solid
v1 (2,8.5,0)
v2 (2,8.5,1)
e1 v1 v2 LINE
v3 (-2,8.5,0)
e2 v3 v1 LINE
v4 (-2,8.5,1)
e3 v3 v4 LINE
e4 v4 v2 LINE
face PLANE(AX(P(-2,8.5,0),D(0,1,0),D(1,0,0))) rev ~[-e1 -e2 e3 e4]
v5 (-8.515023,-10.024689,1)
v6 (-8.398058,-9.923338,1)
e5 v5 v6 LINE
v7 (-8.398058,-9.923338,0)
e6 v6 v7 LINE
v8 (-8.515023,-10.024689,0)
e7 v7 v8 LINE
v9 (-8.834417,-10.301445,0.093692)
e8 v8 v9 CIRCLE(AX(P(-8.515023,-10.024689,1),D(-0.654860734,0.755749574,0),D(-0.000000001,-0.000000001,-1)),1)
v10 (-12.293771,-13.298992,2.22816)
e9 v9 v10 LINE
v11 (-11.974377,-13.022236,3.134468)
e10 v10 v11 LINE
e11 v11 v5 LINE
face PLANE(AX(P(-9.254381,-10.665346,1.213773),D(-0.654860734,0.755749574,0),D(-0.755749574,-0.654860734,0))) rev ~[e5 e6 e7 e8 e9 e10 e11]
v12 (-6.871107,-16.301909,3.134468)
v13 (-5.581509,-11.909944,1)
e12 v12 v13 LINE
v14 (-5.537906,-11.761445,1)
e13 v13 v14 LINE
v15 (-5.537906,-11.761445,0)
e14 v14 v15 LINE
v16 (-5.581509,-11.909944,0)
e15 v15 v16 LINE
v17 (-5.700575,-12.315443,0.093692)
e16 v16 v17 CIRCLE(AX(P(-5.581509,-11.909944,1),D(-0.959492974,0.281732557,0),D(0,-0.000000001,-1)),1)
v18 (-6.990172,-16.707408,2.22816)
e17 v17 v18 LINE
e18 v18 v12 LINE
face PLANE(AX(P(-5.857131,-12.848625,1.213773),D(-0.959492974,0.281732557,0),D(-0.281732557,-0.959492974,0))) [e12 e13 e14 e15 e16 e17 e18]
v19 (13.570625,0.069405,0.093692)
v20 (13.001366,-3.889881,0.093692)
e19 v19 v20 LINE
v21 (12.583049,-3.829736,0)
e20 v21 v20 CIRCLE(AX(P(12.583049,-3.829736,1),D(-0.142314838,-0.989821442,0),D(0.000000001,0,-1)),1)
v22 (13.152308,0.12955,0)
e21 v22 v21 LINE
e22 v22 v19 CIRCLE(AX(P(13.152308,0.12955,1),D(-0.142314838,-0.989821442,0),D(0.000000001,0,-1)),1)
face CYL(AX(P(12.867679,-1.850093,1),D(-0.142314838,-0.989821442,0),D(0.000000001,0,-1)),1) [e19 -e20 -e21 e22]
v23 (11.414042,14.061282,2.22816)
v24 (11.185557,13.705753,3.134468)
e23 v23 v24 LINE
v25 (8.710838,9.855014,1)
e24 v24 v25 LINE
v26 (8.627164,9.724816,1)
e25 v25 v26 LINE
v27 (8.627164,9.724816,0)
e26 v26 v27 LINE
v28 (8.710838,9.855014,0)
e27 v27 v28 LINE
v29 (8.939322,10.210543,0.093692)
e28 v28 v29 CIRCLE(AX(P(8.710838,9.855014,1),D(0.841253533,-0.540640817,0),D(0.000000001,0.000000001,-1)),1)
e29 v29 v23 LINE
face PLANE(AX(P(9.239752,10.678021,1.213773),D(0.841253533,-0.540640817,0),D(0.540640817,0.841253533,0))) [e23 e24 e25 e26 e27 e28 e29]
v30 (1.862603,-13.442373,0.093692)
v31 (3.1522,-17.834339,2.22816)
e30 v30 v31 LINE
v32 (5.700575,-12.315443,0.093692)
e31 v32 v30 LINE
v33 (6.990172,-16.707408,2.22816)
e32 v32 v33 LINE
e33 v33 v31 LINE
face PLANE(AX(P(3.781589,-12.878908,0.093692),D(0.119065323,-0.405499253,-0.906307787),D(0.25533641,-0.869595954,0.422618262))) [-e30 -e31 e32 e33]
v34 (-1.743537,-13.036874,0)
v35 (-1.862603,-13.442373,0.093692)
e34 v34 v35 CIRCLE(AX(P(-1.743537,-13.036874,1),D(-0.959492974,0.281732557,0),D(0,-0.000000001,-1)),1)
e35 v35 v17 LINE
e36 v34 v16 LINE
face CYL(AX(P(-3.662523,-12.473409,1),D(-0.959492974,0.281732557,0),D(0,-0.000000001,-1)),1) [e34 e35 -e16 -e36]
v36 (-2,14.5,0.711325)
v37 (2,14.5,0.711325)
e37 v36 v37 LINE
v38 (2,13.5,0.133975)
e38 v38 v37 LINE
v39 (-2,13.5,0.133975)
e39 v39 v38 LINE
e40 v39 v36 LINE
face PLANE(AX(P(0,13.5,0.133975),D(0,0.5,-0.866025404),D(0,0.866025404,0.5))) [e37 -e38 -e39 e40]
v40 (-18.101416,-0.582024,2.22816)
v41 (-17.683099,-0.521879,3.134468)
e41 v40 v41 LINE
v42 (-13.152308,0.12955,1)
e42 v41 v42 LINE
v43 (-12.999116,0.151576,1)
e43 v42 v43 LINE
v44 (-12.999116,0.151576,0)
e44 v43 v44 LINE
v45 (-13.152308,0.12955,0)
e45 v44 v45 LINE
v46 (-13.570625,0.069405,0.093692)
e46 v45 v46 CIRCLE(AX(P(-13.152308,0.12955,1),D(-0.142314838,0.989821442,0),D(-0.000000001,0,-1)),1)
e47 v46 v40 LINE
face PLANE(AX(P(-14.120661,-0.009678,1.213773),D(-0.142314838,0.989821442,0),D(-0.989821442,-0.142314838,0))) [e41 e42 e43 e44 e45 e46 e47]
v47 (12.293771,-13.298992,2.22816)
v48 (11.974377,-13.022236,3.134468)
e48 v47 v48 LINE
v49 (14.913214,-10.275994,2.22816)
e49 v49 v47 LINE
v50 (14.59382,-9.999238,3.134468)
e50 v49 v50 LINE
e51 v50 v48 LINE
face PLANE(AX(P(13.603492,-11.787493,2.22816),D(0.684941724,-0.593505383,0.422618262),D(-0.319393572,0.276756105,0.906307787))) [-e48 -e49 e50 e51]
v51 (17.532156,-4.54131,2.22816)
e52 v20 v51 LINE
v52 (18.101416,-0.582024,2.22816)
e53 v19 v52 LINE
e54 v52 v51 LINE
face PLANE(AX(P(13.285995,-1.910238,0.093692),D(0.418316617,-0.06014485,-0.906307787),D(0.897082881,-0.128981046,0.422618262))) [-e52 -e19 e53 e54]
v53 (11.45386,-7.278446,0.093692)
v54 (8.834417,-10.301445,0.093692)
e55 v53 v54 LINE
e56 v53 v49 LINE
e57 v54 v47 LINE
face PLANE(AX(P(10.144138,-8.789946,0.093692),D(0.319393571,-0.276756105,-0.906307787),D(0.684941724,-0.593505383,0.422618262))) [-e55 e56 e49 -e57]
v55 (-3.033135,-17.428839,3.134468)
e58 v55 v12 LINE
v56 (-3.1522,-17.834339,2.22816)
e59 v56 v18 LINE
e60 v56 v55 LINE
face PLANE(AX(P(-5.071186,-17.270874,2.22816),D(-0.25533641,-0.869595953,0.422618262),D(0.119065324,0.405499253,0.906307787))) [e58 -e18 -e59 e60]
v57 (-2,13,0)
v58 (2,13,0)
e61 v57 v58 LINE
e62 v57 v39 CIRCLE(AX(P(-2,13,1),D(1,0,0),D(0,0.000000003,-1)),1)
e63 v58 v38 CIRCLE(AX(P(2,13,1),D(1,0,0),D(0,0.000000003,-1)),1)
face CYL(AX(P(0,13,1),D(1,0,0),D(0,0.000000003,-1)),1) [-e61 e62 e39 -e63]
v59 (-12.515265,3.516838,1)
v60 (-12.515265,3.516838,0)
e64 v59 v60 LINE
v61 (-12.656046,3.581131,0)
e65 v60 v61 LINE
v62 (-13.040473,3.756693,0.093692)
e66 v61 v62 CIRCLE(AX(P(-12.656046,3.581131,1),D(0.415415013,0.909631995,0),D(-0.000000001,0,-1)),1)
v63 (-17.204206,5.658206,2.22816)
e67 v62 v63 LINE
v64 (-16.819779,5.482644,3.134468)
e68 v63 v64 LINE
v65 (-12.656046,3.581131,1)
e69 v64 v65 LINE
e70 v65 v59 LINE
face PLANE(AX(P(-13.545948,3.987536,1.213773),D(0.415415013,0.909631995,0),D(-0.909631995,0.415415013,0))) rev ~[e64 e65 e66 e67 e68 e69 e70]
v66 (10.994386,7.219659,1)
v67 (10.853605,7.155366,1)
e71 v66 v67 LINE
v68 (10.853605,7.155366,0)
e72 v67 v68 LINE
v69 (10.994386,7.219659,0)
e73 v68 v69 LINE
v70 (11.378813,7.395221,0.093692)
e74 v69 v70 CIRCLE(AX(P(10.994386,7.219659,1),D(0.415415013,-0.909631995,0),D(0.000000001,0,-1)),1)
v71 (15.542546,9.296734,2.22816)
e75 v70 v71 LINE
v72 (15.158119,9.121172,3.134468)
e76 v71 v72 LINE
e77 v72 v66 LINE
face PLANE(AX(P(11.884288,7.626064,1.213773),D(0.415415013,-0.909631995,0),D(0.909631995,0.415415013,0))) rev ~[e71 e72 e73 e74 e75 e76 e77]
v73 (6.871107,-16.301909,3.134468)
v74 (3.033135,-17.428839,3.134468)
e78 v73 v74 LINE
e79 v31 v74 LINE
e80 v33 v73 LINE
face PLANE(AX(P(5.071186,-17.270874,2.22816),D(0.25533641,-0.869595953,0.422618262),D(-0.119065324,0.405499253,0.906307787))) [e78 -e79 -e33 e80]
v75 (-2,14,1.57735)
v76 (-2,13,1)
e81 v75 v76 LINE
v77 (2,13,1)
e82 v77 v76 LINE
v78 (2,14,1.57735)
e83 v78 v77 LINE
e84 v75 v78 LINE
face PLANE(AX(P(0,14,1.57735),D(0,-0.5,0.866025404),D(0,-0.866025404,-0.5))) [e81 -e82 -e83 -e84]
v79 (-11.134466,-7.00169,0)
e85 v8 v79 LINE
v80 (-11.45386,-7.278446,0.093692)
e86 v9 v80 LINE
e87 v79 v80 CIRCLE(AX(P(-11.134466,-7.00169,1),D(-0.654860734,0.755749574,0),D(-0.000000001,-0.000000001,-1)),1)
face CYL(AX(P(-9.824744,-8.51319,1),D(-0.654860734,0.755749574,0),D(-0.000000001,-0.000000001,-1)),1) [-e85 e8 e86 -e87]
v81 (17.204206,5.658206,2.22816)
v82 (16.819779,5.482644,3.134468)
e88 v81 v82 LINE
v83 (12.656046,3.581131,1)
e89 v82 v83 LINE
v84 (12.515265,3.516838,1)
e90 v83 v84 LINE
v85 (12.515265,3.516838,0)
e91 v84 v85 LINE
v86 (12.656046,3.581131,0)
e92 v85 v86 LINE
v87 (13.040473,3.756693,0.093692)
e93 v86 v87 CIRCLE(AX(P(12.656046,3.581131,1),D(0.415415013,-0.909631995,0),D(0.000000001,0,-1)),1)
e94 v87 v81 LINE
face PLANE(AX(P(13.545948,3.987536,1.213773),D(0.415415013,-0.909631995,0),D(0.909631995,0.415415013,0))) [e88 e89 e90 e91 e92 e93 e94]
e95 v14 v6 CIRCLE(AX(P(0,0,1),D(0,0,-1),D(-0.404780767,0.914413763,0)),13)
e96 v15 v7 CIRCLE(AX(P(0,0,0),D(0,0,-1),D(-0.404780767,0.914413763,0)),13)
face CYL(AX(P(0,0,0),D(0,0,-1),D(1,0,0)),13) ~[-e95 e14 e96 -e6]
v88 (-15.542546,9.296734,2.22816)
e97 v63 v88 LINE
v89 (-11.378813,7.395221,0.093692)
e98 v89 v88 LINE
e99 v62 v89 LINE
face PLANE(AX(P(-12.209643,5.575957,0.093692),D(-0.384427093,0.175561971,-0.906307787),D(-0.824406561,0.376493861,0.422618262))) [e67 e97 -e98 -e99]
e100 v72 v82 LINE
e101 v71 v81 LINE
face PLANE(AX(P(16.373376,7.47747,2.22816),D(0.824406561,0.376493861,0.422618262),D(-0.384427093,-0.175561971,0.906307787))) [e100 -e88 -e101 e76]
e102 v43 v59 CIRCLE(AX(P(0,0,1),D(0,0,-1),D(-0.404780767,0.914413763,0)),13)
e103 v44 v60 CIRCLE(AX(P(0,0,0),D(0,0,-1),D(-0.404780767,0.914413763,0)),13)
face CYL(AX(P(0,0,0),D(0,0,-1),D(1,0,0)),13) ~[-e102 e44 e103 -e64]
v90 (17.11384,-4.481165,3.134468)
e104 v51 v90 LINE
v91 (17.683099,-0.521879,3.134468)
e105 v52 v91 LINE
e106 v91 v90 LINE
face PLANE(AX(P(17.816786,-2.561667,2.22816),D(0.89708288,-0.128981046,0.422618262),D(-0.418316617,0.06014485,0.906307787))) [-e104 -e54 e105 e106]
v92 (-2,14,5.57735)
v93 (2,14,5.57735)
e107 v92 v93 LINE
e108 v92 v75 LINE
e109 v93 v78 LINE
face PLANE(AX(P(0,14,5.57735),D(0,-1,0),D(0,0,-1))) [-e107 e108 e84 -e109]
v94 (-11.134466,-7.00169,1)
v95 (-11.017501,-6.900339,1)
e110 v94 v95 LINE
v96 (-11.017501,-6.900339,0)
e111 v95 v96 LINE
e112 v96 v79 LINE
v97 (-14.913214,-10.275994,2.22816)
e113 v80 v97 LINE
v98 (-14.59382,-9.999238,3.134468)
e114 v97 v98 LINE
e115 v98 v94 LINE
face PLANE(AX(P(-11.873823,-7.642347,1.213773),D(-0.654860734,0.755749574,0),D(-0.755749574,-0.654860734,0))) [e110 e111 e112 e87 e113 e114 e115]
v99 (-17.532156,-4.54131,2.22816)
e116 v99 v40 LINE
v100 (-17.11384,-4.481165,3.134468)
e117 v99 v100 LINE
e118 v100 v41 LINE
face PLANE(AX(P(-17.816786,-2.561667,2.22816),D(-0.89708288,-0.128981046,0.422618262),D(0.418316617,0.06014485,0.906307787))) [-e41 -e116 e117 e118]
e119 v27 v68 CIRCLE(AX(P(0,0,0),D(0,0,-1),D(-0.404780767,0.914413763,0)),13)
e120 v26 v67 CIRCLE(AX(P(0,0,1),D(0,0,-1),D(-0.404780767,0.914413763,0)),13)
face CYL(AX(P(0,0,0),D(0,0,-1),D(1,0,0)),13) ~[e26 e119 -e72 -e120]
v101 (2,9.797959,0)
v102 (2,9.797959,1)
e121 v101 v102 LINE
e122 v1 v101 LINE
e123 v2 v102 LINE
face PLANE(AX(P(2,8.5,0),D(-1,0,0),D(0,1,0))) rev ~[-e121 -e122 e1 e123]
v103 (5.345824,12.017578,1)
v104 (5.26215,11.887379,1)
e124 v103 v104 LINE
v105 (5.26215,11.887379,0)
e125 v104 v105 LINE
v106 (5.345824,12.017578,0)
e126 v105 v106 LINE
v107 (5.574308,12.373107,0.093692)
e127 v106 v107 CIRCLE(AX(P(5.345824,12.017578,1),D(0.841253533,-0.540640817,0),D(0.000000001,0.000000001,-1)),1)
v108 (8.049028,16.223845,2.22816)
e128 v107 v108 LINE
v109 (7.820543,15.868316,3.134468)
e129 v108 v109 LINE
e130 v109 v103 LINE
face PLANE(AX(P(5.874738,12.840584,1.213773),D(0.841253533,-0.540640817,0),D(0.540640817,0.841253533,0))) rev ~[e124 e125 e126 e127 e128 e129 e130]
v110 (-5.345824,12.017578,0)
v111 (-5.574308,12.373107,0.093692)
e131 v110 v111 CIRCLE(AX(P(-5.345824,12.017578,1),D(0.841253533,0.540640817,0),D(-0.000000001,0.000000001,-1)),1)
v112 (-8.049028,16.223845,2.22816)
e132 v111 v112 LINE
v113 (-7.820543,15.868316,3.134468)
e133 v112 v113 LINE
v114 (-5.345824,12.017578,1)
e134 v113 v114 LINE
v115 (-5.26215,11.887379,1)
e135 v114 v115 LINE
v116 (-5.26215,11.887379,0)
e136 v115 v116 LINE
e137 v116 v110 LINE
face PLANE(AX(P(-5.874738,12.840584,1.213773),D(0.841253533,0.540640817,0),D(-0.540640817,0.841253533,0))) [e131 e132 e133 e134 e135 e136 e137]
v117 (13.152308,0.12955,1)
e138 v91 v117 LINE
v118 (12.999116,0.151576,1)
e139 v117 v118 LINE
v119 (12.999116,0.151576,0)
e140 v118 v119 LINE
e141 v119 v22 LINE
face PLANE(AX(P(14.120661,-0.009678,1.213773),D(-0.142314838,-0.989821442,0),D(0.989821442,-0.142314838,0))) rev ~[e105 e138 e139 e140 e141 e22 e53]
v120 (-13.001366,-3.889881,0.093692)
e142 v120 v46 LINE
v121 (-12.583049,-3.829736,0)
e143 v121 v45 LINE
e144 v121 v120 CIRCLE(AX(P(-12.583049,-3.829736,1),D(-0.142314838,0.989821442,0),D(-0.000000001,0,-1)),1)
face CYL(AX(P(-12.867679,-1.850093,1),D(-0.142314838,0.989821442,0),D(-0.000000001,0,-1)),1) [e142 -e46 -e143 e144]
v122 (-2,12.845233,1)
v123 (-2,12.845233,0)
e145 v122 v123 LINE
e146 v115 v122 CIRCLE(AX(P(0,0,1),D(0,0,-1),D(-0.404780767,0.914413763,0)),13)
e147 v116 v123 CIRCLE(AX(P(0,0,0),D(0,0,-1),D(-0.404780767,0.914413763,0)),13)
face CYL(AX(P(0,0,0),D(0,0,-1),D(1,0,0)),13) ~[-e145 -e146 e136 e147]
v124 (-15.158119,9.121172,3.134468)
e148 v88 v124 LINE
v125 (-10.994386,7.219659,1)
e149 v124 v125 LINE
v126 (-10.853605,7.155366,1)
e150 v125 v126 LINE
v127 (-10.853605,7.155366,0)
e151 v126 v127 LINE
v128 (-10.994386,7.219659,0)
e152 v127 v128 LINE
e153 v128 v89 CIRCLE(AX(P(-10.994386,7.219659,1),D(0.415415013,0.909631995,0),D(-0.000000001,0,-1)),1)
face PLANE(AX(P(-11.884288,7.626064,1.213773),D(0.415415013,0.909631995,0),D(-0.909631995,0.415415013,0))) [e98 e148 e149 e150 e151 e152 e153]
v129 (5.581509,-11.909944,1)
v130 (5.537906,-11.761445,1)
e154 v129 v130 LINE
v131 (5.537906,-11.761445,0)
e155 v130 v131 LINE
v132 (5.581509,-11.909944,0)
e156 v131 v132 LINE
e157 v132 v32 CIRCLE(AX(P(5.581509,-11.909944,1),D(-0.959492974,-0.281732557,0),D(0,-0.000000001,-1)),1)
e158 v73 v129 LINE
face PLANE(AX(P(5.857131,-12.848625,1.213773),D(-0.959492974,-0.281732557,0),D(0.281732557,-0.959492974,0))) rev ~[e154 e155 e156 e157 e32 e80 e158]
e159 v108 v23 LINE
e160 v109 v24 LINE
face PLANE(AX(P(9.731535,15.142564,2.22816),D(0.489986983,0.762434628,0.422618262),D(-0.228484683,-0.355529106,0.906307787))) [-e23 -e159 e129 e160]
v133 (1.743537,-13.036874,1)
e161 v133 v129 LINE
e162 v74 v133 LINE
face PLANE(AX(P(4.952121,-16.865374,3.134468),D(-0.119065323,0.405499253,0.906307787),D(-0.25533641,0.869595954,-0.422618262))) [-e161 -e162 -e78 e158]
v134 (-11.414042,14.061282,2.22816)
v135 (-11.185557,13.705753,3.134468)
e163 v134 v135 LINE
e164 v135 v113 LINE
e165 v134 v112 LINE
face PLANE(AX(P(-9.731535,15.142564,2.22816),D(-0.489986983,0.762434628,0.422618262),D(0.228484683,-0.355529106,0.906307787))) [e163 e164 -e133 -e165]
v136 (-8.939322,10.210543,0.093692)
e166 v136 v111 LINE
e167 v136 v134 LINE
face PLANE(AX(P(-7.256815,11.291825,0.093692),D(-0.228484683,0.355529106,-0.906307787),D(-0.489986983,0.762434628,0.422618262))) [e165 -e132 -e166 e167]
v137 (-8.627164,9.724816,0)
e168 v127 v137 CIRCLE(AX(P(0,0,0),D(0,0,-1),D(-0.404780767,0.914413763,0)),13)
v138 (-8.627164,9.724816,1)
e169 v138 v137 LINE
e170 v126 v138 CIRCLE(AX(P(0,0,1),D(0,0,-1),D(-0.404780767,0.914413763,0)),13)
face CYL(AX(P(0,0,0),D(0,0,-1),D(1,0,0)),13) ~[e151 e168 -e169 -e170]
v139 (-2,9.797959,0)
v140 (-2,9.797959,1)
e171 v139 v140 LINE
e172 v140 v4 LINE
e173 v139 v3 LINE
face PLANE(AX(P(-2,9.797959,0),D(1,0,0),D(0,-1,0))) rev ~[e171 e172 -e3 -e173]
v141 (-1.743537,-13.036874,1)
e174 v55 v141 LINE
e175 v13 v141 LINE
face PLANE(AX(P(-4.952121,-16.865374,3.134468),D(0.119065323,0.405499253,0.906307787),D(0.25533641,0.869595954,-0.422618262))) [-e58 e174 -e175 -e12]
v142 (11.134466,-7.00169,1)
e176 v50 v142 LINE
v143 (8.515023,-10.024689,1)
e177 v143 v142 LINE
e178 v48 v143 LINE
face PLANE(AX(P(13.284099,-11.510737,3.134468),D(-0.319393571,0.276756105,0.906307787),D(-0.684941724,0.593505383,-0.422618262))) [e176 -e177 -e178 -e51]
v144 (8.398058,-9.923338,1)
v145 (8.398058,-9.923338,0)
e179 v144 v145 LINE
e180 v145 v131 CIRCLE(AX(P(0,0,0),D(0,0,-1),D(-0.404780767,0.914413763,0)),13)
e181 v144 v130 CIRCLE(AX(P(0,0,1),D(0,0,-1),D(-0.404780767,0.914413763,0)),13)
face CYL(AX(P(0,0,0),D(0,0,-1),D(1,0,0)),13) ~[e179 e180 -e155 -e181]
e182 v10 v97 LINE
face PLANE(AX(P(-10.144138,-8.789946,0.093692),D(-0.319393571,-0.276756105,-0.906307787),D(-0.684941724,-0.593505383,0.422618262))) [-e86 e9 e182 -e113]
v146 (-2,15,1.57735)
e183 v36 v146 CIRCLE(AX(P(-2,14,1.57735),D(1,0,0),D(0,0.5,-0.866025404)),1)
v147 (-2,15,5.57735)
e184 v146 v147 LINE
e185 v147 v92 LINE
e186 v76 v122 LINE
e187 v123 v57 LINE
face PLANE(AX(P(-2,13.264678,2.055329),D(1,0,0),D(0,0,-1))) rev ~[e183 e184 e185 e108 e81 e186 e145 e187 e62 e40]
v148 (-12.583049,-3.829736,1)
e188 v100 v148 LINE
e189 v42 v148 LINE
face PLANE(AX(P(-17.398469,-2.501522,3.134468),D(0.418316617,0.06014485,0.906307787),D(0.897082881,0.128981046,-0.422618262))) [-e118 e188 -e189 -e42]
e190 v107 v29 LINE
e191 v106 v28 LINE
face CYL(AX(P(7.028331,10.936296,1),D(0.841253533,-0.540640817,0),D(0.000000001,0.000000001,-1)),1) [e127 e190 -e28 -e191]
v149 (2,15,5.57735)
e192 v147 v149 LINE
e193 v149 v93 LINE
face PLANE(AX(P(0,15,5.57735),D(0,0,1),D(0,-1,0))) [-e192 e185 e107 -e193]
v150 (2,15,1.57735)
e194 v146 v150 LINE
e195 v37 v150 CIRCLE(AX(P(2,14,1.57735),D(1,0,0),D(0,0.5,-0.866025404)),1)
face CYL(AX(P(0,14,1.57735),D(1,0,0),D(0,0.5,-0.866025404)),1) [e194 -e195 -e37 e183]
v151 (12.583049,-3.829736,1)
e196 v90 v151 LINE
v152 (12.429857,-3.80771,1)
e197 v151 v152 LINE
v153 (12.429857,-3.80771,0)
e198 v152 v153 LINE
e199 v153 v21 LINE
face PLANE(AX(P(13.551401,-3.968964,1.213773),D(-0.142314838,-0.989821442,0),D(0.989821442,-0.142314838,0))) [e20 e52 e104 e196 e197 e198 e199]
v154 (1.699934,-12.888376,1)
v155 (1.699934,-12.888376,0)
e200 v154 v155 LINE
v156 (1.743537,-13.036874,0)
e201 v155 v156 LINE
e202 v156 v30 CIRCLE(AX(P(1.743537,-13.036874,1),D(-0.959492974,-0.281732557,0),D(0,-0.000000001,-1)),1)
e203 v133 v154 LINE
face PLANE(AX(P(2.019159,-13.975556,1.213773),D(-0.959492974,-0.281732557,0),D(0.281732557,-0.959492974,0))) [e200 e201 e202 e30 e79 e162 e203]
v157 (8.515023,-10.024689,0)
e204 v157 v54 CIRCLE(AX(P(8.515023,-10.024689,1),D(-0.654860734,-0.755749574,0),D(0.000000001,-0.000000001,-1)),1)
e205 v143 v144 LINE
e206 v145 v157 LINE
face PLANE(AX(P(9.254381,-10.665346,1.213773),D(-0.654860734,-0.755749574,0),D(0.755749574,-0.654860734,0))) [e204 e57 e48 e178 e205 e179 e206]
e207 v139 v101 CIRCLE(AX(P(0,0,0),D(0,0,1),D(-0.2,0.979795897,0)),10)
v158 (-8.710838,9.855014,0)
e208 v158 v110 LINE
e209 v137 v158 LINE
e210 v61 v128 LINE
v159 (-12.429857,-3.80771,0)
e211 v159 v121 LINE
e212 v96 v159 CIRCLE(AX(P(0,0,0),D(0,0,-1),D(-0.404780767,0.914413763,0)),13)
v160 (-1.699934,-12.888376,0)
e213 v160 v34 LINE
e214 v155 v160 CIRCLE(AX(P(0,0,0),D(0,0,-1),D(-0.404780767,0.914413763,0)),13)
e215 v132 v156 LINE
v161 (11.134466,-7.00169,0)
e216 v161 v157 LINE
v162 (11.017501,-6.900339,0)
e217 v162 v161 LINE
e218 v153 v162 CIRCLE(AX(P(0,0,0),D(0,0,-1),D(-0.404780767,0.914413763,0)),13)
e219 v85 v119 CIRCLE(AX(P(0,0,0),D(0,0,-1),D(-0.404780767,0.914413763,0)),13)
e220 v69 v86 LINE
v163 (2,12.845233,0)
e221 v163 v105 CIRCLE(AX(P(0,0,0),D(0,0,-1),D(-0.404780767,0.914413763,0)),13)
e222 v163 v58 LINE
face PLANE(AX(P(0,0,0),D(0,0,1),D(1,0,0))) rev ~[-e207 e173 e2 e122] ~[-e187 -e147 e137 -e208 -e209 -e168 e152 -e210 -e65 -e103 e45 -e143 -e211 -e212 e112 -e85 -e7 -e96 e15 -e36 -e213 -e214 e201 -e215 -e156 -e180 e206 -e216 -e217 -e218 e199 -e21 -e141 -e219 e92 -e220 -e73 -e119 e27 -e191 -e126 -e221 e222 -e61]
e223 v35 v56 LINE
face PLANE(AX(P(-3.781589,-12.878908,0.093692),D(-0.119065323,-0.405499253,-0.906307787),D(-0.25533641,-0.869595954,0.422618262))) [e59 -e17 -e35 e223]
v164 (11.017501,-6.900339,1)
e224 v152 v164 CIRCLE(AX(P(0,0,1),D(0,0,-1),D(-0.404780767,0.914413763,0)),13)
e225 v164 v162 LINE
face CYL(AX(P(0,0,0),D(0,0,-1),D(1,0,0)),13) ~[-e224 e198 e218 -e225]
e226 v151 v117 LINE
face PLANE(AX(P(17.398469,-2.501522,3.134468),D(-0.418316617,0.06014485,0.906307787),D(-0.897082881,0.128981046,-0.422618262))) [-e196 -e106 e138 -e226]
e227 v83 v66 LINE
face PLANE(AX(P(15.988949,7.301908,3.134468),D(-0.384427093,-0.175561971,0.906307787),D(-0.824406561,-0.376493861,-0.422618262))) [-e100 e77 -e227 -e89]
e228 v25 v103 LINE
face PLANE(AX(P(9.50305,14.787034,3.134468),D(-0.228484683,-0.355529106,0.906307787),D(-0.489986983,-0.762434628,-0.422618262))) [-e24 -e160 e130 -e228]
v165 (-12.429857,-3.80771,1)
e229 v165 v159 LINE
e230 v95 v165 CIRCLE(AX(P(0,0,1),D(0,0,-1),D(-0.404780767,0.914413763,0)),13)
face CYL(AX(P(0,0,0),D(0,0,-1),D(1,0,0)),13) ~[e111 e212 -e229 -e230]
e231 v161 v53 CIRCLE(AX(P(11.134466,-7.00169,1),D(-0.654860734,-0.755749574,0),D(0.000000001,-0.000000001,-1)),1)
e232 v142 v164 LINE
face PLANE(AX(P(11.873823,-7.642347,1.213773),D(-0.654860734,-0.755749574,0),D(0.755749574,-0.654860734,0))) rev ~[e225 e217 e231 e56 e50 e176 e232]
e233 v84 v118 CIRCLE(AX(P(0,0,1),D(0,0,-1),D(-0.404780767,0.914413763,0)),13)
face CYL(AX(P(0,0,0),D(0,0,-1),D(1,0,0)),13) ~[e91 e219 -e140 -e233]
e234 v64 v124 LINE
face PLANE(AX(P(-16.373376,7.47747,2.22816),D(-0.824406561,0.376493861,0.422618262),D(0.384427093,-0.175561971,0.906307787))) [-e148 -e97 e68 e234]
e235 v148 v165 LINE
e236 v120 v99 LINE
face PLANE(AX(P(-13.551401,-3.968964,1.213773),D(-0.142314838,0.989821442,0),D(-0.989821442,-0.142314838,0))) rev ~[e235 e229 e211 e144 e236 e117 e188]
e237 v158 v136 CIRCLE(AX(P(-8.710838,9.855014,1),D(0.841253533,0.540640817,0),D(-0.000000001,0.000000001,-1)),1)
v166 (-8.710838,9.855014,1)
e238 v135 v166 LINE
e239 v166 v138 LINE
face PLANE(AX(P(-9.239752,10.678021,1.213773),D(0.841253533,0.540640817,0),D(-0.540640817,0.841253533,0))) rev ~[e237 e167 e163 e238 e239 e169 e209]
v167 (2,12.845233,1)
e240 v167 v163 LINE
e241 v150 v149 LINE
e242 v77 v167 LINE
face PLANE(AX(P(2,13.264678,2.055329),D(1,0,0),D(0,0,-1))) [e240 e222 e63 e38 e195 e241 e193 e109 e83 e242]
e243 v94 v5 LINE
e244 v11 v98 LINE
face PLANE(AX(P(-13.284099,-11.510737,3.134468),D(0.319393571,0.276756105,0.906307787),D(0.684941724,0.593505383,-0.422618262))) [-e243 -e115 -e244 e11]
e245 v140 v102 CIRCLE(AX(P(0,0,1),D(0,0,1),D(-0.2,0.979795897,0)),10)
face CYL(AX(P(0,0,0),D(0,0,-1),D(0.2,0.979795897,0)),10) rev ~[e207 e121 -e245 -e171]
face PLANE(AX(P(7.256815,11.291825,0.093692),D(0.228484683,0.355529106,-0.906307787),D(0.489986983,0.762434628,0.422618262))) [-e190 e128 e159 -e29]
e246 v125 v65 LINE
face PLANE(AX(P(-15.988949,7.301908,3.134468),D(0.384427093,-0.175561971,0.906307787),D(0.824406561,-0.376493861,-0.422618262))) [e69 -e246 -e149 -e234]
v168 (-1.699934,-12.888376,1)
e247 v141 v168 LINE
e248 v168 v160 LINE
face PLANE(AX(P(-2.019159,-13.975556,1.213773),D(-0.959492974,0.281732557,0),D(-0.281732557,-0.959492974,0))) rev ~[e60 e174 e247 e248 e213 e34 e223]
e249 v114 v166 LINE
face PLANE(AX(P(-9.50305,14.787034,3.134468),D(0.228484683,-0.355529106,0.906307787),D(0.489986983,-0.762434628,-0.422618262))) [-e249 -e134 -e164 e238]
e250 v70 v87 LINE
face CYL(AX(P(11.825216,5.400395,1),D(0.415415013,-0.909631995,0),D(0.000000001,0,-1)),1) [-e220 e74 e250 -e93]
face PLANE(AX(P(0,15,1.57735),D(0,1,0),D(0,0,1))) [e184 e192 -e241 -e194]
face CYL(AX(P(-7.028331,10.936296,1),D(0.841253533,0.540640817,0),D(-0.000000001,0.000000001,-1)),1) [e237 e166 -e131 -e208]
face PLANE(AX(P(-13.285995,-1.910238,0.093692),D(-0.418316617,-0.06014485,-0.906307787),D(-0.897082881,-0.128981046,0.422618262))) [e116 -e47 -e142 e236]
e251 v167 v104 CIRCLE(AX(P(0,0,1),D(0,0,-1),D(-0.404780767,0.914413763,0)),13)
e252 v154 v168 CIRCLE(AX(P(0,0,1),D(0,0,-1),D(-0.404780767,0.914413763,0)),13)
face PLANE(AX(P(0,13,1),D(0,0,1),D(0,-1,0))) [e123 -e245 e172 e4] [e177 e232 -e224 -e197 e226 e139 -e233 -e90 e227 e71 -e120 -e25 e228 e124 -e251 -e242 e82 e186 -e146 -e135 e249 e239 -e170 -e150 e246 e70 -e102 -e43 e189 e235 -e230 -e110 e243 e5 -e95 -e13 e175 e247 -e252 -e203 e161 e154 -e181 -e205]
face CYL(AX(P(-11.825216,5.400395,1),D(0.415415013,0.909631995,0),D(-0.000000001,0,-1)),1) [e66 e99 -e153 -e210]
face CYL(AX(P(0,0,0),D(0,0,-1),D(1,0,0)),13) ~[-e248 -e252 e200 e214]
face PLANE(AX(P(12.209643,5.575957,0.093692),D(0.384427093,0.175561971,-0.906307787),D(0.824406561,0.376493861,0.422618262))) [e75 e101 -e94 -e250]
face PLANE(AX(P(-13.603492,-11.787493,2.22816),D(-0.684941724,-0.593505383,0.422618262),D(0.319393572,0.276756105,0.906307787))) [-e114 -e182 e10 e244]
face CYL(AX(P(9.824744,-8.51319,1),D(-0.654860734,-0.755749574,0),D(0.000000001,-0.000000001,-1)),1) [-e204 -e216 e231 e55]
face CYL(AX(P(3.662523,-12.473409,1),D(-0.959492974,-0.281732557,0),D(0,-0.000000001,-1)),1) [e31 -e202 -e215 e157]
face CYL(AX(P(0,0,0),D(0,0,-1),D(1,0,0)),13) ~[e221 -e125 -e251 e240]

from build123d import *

# Parameters (mm, degrees)
ESQUISSE1_R                  = 13
BASE_EXTRUSION_DEPTH         = 1
BOSS_EXTRU_MINCE1_DEPTH      = 2
R_P_TITION_CIRCULAIRE1_COUNT = 10
R_P_TITION_CIRCULAIRE1_ANGLE = 294.545454545
BOSS_EXTRU_MINCE2_DEPTH      = 2


with BuildPart() as part:
    # Esquisse1 → Base-Extrusion (new body)
    with BuildSketch(Plane.XY):
        Circle(ESQUISSE1_R)
        with BuildLine():
            Line((-2, 8.5), (2, 8.5))
            Line((2, 8.5), (2, 9.797958971))
            ThreePointArc((2, 9.797958971), (0, -10), (-2, 9.797958971))
            Line((-2, 9.797958971), (-2, 8.5))
        make_face(mode=Mode.SUBTRACT)
    extrude(amount=BASE_EXTRUSION_DEPTH)

    # Esquisse2 → Boss.-Extru.-Mince1 (add, symmetric)
    with BuildSketch(Plane(origin=(0, 0, 0), x_dir=(-0.5406408174555986, 0.8412535328311805, 0), z_dir=(0.8412535328311805, 0.5406408174555986, 0))):
        with BuildLine():
            Line((10, 0), (13, 0))
            ThreePointArc((13, 0), (13.216439614, 0.023703993), (13.422618262, 0.093692213))
            Line((13.422618262, 0.093692213), (18, 2.228160372))
            Line((18, 2.228160372), (17.577381738, 3.134468159))
            Line((17.577381738, 3.134468159), (13, 1))
            Line((13, 1), (10, 1))
            Line((10, 1), (10, 0))
        make_face()
    boss_extru_mince1 = extrude(amount=BOSS_EXTRU_MINCE1_DEPTH, both=True)

    # Répétition circulaire1: Boss.-Extru.-Mince1 ×10 about axis
    r_p_tition_circulaire1_axis = Axis((0, 0, -7.805907173), (0, 0, 1))
    for i in range(1, R_P_TITION_CIRCULAIRE1_COUNT):
        add(boss_extru_mince1.rotate(r_p_tition_circulaire1_axis, i * R_P_TITION_CIRCULAIRE1_ANGLE / (R_P_TITION_CIRCULAIRE1_COUNT - 1)))

    # Esquisse3 → Boss.-Extru.-Mince2 (add, symmetric)
    with BuildSketch(Plane(origin=(0, 0, 0), x_dir=(0, 0, -1), z_dir=(1, 0, 0))):
        with BuildLine():
            Line((0, 10), (0, 13))
            ThreePointArc((0, 13), (-0.034074174, 13.258819045), (-0.133974596, 13.5))
            Line((-0.133974596, 13.5), (-0.711324865, 14.5))
            ThreePointArc((-0.711324865, 14.5), (-1.077350269, 14.866025404), (-1.577350269, 15))
            Line((-1.577350269, 15), (-5.577350269, 15))
            Line((-5.577350269, 15), (-5.577350269, 14))
            Line((-5.577350269, 14), (-1.577350269, 14))
            Line((-1.577350269, 14), (-1, 13))
            Line((-1, 13), (-1, 10))
            Line((-1, 10), (0, 10))
        make_face()
    extrude(amount=BOSS_EXTRU_MINCE2_DEPTH, both=True)


solid = part.part
